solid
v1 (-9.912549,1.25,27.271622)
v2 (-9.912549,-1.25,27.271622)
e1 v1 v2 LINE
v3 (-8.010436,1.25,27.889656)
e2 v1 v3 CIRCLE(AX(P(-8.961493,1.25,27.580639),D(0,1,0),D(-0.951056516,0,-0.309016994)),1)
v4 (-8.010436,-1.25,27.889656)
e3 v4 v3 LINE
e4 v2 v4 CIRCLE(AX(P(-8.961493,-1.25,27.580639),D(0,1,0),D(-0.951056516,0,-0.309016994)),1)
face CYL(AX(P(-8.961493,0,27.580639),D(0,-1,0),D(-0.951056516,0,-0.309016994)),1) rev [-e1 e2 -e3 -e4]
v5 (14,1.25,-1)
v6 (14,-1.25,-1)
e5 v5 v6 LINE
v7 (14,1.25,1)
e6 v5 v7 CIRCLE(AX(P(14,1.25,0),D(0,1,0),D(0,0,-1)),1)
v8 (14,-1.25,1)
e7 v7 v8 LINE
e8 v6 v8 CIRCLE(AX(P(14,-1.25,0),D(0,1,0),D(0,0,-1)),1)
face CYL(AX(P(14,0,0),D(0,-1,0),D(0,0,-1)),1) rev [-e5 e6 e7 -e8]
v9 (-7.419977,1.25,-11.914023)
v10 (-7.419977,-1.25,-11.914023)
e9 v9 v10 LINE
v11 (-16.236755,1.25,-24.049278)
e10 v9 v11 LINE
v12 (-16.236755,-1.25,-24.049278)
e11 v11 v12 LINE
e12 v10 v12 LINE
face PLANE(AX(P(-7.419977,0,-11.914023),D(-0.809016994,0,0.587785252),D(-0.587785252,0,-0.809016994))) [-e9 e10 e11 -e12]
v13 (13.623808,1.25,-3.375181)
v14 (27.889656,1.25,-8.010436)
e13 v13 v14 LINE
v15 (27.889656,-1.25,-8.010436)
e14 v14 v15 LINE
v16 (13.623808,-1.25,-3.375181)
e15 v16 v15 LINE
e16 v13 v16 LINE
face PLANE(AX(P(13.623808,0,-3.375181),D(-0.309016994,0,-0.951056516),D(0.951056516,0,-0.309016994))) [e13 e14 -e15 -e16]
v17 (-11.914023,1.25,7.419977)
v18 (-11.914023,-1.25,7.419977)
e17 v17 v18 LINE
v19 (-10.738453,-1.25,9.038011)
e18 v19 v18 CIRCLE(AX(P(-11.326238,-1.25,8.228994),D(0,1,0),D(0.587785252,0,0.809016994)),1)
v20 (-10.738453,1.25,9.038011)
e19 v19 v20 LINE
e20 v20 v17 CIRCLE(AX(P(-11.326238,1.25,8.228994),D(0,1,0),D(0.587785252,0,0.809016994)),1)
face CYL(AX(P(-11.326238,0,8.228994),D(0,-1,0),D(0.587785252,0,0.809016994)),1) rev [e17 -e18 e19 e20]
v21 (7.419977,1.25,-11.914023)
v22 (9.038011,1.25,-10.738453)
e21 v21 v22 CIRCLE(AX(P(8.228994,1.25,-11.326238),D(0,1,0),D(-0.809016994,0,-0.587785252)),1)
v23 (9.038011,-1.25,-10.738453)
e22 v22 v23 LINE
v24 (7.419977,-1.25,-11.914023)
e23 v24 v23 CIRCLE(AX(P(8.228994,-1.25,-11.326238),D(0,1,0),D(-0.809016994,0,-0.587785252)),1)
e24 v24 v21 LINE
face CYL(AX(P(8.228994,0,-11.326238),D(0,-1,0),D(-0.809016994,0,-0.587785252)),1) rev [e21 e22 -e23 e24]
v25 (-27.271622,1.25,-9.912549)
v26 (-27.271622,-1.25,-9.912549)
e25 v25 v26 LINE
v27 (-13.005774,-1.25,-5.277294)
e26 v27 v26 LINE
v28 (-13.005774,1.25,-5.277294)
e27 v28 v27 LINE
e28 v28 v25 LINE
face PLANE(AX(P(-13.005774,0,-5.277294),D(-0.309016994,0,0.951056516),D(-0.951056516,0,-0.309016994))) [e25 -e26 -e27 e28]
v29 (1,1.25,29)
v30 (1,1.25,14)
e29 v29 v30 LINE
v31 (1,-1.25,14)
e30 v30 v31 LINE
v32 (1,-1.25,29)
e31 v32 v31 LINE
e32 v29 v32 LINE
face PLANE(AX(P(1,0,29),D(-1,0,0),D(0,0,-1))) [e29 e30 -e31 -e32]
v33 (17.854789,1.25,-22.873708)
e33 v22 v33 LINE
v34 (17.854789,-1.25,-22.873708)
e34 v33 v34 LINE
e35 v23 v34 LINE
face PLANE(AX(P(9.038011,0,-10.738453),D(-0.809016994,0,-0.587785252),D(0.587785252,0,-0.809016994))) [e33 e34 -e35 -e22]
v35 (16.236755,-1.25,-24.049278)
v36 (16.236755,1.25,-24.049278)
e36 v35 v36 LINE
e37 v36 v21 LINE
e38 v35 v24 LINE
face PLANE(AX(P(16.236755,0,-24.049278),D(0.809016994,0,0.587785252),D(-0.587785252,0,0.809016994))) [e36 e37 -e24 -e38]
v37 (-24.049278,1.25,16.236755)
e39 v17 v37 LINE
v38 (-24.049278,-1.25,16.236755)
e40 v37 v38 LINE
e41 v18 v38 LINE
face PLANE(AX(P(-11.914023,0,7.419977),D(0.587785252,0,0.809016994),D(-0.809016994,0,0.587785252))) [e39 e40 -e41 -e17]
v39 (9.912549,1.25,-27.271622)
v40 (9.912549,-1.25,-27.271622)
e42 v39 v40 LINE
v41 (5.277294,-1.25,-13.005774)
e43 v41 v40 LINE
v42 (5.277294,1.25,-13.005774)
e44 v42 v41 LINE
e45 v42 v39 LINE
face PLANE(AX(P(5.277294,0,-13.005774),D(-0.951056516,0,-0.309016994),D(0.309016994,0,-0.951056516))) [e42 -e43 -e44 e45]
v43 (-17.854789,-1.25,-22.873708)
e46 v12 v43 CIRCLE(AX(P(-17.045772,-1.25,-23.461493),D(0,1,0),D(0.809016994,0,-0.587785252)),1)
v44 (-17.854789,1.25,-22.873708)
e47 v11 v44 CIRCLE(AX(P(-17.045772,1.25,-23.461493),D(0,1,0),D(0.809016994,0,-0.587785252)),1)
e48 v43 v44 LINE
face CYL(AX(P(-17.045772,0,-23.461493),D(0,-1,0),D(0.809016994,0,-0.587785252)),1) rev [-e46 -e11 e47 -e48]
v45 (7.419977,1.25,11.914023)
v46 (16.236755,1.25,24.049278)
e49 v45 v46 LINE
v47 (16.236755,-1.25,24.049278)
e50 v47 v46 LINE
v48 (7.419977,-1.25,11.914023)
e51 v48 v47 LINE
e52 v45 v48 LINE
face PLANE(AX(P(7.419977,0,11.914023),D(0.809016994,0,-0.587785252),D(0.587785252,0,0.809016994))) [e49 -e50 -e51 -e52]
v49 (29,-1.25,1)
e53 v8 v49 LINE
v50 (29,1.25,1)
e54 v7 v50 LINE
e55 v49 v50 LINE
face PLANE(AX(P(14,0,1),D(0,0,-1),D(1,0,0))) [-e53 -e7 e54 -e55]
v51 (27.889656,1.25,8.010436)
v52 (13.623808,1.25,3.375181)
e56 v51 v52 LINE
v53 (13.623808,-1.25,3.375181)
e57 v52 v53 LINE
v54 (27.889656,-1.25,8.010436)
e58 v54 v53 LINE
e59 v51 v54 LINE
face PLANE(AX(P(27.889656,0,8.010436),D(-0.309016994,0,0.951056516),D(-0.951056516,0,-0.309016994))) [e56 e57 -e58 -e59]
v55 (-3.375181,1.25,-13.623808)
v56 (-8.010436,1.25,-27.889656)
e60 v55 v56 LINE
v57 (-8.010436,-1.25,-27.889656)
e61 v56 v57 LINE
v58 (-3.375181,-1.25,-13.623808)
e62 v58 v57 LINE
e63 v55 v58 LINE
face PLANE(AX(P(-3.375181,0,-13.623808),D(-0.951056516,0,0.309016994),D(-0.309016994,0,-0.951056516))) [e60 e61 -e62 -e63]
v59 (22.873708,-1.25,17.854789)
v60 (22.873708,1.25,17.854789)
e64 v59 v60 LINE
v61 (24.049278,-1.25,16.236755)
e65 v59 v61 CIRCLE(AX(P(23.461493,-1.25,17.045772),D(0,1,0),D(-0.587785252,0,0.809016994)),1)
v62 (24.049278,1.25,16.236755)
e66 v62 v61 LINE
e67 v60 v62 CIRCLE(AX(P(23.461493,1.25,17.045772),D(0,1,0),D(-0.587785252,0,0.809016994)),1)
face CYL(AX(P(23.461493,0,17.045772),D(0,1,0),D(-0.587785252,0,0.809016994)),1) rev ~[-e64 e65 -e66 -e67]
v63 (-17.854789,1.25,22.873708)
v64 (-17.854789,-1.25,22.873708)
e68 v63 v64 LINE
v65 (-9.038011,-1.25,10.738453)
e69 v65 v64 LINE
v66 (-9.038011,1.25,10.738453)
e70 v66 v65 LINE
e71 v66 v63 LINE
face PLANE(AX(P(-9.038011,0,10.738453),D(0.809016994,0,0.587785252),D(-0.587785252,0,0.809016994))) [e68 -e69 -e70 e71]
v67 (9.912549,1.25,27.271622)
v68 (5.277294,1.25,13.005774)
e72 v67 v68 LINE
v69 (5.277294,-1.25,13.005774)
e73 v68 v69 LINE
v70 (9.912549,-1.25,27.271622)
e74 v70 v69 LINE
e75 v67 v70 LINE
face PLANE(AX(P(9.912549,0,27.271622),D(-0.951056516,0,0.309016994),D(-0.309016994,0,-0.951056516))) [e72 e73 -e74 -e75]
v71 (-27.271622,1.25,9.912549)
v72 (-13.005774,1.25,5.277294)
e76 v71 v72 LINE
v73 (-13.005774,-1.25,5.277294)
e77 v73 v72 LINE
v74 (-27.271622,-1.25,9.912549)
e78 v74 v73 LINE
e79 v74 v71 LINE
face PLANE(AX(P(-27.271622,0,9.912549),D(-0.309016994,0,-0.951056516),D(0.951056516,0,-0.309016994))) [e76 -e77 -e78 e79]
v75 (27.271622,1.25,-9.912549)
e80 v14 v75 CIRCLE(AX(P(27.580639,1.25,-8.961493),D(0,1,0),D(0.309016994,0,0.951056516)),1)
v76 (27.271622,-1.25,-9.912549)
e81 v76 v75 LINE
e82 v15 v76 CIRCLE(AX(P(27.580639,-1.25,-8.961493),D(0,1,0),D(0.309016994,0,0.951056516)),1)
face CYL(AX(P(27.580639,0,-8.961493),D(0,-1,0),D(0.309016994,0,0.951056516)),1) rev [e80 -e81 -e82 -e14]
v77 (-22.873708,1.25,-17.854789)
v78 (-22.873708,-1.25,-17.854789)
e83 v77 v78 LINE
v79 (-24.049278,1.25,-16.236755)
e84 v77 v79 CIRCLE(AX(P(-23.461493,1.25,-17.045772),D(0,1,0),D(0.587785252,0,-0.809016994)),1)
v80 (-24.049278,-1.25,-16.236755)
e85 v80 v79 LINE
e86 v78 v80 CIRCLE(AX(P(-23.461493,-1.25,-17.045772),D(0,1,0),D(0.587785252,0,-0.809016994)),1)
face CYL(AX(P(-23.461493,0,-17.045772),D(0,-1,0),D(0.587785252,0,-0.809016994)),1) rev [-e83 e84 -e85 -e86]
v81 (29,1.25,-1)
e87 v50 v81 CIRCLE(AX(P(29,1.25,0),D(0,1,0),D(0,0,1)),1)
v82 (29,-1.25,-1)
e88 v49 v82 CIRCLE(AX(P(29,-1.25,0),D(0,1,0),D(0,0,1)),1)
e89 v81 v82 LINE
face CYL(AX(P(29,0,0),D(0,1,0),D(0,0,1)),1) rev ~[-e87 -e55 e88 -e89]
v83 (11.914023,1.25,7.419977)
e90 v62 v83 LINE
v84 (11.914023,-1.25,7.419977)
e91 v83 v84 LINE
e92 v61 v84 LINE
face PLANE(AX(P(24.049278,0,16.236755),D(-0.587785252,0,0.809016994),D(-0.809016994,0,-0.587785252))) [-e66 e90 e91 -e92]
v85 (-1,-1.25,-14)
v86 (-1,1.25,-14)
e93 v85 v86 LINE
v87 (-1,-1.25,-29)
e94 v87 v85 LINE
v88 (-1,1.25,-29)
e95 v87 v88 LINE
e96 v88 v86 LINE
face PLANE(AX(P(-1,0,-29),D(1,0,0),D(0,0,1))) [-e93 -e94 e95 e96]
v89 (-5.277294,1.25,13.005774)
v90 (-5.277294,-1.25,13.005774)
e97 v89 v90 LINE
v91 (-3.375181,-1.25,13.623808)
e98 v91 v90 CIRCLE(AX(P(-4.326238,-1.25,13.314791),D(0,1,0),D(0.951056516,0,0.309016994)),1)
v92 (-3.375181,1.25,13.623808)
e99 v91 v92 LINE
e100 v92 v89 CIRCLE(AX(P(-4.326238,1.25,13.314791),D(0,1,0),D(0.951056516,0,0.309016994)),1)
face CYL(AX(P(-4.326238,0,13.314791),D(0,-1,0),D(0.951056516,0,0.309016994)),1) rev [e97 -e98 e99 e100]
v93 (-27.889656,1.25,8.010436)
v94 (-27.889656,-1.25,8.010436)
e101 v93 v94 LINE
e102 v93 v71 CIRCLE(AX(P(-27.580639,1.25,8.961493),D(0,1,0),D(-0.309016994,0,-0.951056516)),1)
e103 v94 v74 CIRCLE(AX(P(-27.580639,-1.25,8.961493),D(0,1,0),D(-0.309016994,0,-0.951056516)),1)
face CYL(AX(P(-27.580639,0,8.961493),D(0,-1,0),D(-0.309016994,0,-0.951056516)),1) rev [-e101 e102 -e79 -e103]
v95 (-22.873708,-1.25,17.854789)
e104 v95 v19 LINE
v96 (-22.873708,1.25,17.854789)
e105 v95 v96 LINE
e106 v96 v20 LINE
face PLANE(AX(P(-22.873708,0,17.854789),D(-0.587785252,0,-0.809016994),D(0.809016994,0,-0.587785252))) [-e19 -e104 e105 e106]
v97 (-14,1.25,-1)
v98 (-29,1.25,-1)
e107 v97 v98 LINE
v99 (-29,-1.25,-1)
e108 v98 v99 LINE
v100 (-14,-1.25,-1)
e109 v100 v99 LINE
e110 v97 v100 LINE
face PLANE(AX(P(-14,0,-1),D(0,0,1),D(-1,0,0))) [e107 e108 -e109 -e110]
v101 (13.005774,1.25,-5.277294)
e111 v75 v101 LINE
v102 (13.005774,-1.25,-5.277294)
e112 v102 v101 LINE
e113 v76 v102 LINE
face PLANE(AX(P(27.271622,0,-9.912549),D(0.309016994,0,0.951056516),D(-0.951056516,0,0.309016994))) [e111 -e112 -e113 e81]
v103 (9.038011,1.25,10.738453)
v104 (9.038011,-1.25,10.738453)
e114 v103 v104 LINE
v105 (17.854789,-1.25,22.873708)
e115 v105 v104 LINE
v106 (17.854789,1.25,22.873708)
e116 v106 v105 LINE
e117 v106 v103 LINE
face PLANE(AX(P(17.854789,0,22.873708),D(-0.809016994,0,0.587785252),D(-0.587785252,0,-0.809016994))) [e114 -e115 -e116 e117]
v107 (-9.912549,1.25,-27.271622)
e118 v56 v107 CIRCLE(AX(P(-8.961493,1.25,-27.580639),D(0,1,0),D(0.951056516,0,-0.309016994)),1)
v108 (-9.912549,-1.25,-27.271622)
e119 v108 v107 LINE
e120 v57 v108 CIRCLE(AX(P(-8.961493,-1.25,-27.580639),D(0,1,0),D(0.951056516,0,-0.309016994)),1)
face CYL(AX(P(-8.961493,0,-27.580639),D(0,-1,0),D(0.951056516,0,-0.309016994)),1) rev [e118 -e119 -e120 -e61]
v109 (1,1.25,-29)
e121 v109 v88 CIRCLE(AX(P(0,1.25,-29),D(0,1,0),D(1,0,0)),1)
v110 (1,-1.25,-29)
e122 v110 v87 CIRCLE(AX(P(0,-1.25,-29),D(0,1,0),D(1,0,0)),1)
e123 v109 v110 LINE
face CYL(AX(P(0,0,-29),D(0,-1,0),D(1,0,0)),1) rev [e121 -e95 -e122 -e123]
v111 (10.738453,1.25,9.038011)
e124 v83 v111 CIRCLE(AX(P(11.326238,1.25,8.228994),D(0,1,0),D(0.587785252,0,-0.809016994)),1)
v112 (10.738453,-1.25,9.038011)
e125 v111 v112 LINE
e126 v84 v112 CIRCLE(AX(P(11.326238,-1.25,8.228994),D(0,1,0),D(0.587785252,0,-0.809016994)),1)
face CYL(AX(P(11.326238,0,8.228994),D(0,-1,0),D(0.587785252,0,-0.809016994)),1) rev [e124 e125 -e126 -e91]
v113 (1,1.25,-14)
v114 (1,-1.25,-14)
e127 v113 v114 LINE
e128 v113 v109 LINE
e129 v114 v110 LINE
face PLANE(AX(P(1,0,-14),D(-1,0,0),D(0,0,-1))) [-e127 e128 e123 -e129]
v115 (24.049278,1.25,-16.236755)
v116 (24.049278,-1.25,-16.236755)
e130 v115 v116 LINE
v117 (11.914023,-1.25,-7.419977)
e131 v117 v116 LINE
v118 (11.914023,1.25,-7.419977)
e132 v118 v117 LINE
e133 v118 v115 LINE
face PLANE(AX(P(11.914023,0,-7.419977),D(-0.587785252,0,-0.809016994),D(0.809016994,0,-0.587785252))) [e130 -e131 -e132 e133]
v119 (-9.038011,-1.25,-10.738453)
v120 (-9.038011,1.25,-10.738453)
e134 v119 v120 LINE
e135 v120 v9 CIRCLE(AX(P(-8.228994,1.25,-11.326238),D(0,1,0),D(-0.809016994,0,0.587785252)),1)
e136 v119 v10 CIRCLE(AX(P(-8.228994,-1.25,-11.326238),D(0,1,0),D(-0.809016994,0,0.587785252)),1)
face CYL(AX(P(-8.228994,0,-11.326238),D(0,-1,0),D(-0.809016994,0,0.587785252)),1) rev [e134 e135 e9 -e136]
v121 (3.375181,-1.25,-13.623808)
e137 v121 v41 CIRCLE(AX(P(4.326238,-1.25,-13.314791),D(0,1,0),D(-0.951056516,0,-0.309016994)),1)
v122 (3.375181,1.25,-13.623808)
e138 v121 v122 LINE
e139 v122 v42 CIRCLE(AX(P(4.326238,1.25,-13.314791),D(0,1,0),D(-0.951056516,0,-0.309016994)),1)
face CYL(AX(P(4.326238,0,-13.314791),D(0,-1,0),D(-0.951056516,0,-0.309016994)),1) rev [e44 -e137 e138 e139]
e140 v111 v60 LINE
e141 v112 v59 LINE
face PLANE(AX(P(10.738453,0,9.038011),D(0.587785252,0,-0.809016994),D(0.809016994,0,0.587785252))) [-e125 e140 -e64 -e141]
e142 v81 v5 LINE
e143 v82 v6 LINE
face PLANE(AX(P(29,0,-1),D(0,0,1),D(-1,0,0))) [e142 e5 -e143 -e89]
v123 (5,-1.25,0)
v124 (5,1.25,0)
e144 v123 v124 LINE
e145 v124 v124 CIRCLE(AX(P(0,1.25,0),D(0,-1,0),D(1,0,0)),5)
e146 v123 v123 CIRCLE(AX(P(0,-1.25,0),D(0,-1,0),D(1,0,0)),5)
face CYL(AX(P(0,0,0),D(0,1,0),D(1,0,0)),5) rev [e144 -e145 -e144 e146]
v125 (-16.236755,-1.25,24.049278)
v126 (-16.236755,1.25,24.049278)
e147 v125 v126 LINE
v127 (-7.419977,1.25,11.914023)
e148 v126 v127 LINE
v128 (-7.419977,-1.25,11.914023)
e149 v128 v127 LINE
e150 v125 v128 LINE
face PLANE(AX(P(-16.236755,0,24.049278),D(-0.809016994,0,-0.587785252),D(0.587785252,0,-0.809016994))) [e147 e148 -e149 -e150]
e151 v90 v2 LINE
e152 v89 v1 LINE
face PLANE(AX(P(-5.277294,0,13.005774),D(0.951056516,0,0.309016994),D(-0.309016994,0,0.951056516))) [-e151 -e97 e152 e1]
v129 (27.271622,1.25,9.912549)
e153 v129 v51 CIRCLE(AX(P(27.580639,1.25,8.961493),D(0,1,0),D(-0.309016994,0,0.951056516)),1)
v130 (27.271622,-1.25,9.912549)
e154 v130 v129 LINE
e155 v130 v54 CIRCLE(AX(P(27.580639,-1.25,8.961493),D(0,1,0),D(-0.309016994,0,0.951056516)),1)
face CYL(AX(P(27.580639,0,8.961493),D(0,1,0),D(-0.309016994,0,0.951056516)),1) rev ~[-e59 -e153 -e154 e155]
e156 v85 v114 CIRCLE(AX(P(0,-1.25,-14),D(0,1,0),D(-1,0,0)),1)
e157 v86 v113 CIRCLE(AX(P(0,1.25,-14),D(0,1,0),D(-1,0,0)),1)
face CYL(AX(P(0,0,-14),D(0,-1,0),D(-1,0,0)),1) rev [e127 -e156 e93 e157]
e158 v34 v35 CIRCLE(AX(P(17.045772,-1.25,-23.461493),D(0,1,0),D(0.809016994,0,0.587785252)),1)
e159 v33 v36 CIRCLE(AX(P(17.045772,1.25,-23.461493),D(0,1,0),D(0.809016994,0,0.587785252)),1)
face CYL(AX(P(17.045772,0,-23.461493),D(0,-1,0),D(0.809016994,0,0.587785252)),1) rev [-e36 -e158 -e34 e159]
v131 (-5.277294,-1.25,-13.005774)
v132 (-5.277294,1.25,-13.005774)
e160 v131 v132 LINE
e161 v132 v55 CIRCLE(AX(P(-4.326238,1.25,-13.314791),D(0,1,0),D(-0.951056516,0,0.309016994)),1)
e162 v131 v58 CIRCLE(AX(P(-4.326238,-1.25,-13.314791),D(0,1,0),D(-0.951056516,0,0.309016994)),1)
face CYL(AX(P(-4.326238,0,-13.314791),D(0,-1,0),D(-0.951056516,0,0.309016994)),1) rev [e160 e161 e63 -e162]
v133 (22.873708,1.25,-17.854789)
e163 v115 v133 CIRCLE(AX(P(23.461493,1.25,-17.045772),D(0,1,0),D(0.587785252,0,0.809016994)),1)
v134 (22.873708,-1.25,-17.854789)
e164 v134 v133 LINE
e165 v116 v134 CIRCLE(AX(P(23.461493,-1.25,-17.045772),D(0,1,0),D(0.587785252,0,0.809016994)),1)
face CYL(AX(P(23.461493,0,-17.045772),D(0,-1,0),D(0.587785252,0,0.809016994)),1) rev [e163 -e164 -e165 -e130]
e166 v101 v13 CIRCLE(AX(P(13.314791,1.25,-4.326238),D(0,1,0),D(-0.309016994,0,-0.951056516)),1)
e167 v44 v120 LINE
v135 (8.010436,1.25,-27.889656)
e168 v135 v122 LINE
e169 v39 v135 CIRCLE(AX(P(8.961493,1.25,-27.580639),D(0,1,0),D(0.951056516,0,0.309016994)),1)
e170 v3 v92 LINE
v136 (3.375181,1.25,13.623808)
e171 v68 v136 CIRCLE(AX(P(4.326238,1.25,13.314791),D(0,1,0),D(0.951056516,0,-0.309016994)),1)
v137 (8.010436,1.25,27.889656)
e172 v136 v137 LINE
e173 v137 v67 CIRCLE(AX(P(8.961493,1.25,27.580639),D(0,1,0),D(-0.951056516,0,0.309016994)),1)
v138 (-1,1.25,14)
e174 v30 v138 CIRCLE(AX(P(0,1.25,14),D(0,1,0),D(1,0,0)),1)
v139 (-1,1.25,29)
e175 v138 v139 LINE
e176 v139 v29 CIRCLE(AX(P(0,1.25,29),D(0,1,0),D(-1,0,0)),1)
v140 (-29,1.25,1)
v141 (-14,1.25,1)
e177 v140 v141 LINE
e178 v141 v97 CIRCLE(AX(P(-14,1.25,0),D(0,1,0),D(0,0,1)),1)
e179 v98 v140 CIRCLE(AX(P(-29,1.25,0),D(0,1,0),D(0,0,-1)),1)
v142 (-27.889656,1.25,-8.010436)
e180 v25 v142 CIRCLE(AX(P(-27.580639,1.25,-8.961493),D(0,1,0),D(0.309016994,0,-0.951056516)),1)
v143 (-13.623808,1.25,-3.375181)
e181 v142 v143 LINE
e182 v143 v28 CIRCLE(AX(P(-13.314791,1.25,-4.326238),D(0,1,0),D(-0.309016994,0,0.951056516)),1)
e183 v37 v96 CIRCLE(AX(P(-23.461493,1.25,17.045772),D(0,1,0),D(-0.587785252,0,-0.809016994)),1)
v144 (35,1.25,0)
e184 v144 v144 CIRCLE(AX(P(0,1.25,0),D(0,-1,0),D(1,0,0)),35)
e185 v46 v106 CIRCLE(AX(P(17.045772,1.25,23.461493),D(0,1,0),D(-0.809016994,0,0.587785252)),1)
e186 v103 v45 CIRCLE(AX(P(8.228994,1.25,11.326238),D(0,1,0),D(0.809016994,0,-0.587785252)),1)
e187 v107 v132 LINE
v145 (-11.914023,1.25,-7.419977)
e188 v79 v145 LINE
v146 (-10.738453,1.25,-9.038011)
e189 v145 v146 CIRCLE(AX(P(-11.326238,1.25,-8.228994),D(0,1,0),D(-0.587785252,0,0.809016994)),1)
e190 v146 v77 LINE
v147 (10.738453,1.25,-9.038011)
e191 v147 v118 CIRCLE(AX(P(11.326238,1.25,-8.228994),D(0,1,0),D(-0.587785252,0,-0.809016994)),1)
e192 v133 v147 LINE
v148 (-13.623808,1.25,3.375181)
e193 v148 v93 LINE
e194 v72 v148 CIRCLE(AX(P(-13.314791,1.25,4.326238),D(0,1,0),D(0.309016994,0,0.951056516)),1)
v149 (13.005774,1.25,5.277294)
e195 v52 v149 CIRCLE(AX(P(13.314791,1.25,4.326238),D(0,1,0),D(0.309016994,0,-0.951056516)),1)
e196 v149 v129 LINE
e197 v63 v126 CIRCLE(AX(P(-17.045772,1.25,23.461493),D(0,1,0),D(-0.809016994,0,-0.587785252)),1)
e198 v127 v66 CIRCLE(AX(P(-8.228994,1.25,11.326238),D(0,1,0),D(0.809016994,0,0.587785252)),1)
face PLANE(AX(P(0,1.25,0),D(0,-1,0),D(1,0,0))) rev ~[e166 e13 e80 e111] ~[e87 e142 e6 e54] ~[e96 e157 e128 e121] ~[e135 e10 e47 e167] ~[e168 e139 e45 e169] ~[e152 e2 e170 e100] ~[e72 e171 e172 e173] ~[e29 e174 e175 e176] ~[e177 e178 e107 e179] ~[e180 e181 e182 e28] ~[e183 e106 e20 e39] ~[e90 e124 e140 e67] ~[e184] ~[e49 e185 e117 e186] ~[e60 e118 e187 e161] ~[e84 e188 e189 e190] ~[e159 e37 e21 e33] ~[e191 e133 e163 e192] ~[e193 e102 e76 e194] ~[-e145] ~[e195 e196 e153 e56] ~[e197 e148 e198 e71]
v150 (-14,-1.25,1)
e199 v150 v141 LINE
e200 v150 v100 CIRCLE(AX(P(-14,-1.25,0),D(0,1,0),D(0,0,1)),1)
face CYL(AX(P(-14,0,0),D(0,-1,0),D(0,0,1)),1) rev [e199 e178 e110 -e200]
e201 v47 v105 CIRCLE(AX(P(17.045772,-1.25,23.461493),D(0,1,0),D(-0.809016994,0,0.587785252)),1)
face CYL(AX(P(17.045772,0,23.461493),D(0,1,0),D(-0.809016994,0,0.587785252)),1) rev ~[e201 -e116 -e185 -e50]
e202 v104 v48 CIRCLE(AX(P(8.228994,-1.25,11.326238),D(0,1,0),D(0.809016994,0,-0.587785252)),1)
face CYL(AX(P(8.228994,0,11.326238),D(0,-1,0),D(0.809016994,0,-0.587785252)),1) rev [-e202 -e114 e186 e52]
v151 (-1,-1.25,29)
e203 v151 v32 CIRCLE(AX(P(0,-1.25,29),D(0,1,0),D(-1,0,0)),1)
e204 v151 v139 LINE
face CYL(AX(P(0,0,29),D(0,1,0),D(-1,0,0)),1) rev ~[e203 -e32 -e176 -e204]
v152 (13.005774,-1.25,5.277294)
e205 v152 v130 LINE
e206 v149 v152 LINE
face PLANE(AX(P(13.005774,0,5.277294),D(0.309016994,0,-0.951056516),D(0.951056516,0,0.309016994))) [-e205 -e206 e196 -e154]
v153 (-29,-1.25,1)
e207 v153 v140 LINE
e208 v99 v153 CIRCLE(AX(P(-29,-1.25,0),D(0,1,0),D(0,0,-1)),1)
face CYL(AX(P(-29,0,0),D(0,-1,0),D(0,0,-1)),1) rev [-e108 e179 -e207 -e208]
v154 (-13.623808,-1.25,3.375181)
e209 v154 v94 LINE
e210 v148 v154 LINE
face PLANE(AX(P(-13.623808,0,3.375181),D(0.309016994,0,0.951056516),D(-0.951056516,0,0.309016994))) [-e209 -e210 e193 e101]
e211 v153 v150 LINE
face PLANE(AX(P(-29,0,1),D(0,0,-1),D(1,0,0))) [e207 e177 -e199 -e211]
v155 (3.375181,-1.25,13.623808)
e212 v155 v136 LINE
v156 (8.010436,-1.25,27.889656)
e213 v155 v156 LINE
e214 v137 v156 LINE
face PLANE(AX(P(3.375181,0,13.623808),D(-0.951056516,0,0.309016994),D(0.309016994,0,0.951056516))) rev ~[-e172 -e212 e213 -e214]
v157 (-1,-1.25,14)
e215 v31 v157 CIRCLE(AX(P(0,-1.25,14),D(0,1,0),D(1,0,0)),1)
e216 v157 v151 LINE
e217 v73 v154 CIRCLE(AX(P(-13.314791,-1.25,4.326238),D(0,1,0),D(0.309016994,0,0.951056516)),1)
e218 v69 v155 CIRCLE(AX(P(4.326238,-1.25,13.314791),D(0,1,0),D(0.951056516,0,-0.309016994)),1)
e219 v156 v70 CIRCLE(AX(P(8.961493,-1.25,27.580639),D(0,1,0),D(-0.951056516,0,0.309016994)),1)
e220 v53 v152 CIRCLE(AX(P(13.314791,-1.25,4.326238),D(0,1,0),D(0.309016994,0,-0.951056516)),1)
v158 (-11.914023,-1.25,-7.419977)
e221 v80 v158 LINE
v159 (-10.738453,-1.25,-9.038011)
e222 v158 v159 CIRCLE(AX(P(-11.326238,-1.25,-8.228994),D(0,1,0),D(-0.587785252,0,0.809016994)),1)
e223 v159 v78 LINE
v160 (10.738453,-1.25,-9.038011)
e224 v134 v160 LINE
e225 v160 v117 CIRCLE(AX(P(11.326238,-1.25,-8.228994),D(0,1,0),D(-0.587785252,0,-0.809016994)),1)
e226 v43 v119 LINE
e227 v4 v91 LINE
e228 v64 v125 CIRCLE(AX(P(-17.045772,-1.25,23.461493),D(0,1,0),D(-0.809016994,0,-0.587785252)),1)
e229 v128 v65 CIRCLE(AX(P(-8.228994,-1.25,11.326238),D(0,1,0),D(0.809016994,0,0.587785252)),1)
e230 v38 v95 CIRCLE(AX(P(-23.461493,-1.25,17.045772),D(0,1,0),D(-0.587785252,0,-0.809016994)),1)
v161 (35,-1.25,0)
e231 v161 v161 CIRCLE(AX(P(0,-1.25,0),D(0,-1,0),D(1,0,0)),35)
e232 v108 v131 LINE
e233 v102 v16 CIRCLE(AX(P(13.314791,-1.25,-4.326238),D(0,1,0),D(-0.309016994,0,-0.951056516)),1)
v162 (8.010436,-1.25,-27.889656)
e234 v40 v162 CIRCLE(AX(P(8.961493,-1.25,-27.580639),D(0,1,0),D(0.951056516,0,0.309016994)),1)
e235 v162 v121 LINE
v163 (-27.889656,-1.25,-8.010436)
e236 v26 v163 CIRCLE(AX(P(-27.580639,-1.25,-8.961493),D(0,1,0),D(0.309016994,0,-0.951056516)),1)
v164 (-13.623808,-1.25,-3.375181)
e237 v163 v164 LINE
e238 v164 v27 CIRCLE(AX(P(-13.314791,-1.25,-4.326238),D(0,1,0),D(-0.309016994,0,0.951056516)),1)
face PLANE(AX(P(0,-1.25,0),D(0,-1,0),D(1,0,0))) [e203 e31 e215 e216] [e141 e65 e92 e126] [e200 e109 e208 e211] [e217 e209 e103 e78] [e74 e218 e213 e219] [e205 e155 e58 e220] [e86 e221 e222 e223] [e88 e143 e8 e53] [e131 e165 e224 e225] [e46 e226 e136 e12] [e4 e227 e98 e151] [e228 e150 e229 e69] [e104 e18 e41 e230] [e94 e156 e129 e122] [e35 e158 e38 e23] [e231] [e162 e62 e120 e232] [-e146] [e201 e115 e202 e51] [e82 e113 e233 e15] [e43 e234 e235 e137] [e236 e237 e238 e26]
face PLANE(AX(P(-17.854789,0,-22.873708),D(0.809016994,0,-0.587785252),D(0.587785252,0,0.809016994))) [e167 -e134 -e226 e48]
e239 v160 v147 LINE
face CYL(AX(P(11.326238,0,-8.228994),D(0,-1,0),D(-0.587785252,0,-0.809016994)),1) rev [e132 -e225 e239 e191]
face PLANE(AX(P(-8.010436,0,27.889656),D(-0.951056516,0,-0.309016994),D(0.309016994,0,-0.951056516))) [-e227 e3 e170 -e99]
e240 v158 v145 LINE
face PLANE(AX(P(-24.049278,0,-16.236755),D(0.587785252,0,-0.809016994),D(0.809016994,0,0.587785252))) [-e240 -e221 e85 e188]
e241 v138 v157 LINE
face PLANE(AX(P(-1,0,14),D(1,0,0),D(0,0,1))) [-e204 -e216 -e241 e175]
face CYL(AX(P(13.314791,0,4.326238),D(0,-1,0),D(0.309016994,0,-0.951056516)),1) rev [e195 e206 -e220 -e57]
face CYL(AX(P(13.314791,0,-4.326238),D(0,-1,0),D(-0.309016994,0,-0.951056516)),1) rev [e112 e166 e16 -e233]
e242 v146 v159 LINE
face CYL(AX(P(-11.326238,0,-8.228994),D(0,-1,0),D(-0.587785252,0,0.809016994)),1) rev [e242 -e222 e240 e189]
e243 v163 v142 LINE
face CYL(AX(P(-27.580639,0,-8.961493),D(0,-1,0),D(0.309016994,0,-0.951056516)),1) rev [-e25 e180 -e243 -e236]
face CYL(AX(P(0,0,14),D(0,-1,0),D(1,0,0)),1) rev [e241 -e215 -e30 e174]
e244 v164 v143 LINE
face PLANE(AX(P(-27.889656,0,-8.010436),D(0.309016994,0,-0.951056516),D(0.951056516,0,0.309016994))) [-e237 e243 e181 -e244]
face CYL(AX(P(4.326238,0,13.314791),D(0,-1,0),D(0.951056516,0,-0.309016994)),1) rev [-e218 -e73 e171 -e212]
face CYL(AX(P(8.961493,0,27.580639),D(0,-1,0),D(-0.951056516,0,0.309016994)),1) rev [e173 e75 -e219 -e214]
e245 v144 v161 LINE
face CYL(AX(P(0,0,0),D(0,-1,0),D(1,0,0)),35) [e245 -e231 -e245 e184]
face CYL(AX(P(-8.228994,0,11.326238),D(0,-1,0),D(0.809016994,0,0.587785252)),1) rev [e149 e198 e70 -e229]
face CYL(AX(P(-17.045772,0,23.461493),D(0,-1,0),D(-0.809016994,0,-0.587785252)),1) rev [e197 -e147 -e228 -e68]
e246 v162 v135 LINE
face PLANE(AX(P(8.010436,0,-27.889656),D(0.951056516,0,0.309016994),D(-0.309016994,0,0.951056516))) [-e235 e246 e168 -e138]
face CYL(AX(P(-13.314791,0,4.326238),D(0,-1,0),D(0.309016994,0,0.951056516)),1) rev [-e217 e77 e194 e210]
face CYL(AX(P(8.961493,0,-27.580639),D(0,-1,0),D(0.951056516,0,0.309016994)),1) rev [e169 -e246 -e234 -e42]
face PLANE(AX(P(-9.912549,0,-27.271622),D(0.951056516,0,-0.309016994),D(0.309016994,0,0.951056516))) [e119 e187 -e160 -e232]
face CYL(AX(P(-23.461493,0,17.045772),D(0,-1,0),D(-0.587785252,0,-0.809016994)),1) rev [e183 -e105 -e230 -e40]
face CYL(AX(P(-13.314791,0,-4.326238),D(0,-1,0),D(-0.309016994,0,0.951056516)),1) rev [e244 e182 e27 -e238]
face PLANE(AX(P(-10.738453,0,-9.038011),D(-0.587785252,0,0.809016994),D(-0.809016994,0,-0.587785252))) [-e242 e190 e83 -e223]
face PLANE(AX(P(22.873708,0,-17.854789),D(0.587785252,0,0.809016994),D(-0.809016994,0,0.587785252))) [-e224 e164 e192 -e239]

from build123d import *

# Parameters (mm, degrees)
F0_R     = 35
F0_R_2   = 5
F1_DEPTH = 1.25


with BuildPart() as f1:
    # F0 (on Front) → F1 (new body, symmetric)
    with BuildSketch(Plane.XZ):
        Circle(F0_R)
        with BuildLine():
            Line((-3.375181405, -13.6238082225), (-8.0104363206, -27.8896559669))
            ThreePointArc((-8.0104363206, -27.8896559669), (-9.2705098312, -28.5316954889), (-9.9125493532, -27.2716219782))
            Line((-9.9125493532, -27.2716219782), (-5.2772944375, -13.0057742338))
            ThreePointArc((-5.2772944375, -13.0057742338), (-4.0172209269, -12.3637347118), (-3.375181405, -13.6238082225))
        make_face(mode=Mode.SUBTRACT)
        with BuildLine():
            Line((-13.0057742338, -5.2772944375), (-27.2716219782, -9.9125493532))
            ThreePointArc((-27.2716219782, -9.9125493532), (-28.5316954889, -9.2705098312), (-27.8896559669, -8.0104363206))
            Line((-27.8896559669, -8.0104363206), (-13.6238082225, -3.375181405))
            ThreePointArc((-13.6238082225, -3.375181405), (-12.3637347118, -4.0172209269), (-13.0057742338, -5.2772944375))
        make_face(mode=Mode.SUBTRACT)
        with BuildLine():
            Line((-7.4199765377, -11.9140231735), (-16.2367553221, -24.0492780892))
            ThreePointArc((-16.2367553221, -24.0492780892), (-17.6335575688, -24.2705098312), (-17.8547893109, -22.8737075846))
            Line((-17.8547893109, -22.8737075846), (-9.0380105265, -10.738452669))
            ThreePointArc((-9.0380105265, -10.738452669), (-7.6412082798, -10.5172209269), (-7.4199765377, -11.9140231735))
        make_face(mode=Mode.SUBTRACT)
        with BuildLine():
            Line((-10.738452669, -9.0380105265), (-22.8737075846, -17.8547893109))
            ThreePointArc((-22.8737075846, -17.8547893109), (-24.2705098312, -17.6335575688), (-24.0492780892, -16.2367553221))
            Line((-24.0492780892, -16.2367553221), (-11.9140231735, -7.4199765377))
            ThreePointArc((-11.9140231735, -7.4199765377), (-10.5172209269, -7.6412082798), (-10.738452669, -9.0380105265))
        make_face(mode=Mode.SUBTRACT)
        with BuildLine():
            Line((1, -14), (1, -29))
            ThreePointArc((1, -29), (0, -30), (-1, -29))
            Line((-1, -29), (-1, -14))
            ThreePointArc((-1, -14), (0, -13), (1, -14))
        make_face(mode=Mode.SUBTRACT)
        with BuildLine():
            Line((5.2772944375, -13.0057742338), (9.9125493532, -27.2716219782))
            ThreePointArc((9.9125493532, -27.2716219782), (9.2705098312, -28.5316954889), (8.0104363206, -27.8896559669))
            Line((8.0104363206, -27.8896559669), (3.375181405, -13.6238082225))
            ThreePointArc((3.375181405, -13.6238082225), (4.0172209269, -12.3637347118), (5.2772944375, -13.0057742338))
        make_face(mode=Mode.SUBTRACT)
        with BuildLine():
            Line((9.0380105265, -10.738452669), (17.8547893109, -22.8737075846))
            ThreePointArc((17.8547893109, -22.8737075846), (17.6335575688, -24.2705098312), (16.2367553221, -24.0492780892))
            Line((16.2367553221, -24.0492780892), (7.4199765377, -11.9140231735))
            ThreePointArc((7.4199765377, -11.9140231735), (7.6412082798, -10.5172209269), (9.0380105265, -10.738452669))
        make_face(mode=Mode.SUBTRACT)
        with BuildLine():
            Line((11.9140231735, -7.4199765377), (24.0492780892, -16.2367553221))
            ThreePointArc((24.0492780892, -16.2367553221), (24.2705098312, -17.6335575688), (22.8737075846, -17.8547893109))
            Line((22.8737075846, -17.8547893109), (10.738452669, -9.0380105265))
            ThreePointArc((10.738452669, -9.0380105265), (10.5172209269, -7.6412082798), (11.9140231735, -7.4199765377))
        make_face(mode=Mode.SUBTRACT)
        with BuildLine():
            Line((13.6238082225, -3.375181405), (27.8896559669, -8.0104363206))
            ThreePointArc((27.8896559669, -8.0104363206), (28.5316954889, -9.2705098312), (27.2716219782, -9.9125493532))
            Line((27.2716219782, -9.9125493532), (13.0057742338, -5.2772944375))
            ThreePointArc((13.0057742338, -5.2772944375), (12.3637347118, -4.0172209269), (13.6238082225, -3.375181405))
        make_face(mode=Mode.SUBTRACT)
        with BuildLine():
            Line((-14, -1), (-29, -1))
            ThreePointArc((-29, -1), (-30, 0), (-29, 1))
            Line((-29, 1), (-14, 1))
            ThreePointArc((-14, 1), (-13, 0), (-14, -1))
        make_face(mode=Mode.SUBTRACT)
        with BuildLine():
            Line((-13.6238082225, 3.375181405), (-27.8896559669, 8.0104363206))
            ThreePointArc((-27.8896559669, 8.0104363206), (-28.5316954889, 9.2705098312), (-27.2716219782, 9.9125493532))
            Line((-27.2716219782, 9.9125493532), (-13.0057742338, 5.2772944375))
            ThreePointArc((-13.0057742338, 5.2772944375), (-12.3637347118, 4.0172209269), (-13.6238082225, 3.375181405))
        make_face(mode=Mode.SUBTRACT)
        with BuildLine():
            Line((-11.9140231735, 7.4199765377), (-24.0492780892, 16.2367553221))
            ThreePointArc((-24.0492780892, 16.2367553221), (-24.2705098312, 17.6335575688), (-22.8737075846, 17.8547893109))
            Line((-22.8737075846, 17.8547893109), (-10.738452669, 9.0380105265))
            ThreePointArc((-10.738452669, 9.0380105265), (-10.5172209269, 7.6412082798), (-11.9140231735, 7.4199765377))
        make_face(mode=Mode.SUBTRACT)
        with BuildLine():
            Line((-9.0380105265, 10.738452669), (-17.8547893109, 22.8737075846))
            ThreePointArc((-17.8547893109, 22.8737075846), (-17.6335575688, 24.2705098312), (-16.2367553221, 24.0492780892))
            Line((-16.2367553221, 24.0492780892), (-7.4199765377, 11.9140231735))
            ThreePointArc((-7.4199765377, 11.9140231735), (-7.6412082798, 10.5172209269), (-9.0380105265, 10.738452669))
        make_face(mode=Mode.SUBTRACT)
        with BuildLine():
            Line((-5.2772944375, 13.0057742338), (-9.9125493532, 27.2716219782))
            ThreePointArc((-9.9125493532, 27.2716219782), (-9.2705098312, 28.5316954889), (-8.0104363206, 27.8896559669))
            Line((-8.0104363206, 27.8896559669), (-3.375181405, 13.6238082225))
            ThreePointArc((-3.375181405, 13.6238082225), (-4.0172209269, 12.3637347118), (-5.2772944375, 13.0057742338))
        make_face(mode=Mode.SUBTRACT)
        Circle(F0_R_2, mode=Mode.SUBTRACT)
        with BuildLine():
            Line((10.738452669, 9.0380105265), (22.8737075846, 17.8547893109))
            ThreePointArc((22.8737075846, 17.8547893109), (24.2705098312, 17.6335575688), (24.0492780892, 16.2367553221))
            Line((24.0492780892, 16.2367553221), (11.9140231735, 7.4199765377))
            ThreePointArc((11.9140231735, 7.4199765377), (10.5172209269, 7.6412082798), (10.738452669, 9.0380105265))
        make_face(mode=Mode.SUBTRACT)
        with BuildLine():
            Line((7.4199765377, 11.9140231735), (16.2367553221, 24.0492780892))
            ThreePointArc((16.2367553221, 24.0492780892), (17.6335575688, 24.2705098312), (17.8547893109, 22.8737075846))
            Line((17.8547893109, 22.8737075846), (9.0380105265, 10.738452669))
            ThreePointArc((9.0380105265, 10.738452669), (7.6412082798, 10.5172209269), (7.4199765377, 11.9140231735))
        make_face(mode=Mode.SUBTRACT)
        with BuildLine():
            Line((14, 1), (29, 1))
            ThreePointArc((29, 1), (30, 0), (29, -1))
            Line((29, -1), (14, -1))
            ThreePointArc((14, -1), (13, 0), (14, 1))
        make_face(mode=Mode.SUBTRACT)
        with BuildLine():
            Line((13.0057742338, 5.2772944375), (27.2716219782, 9.9125493532))
            ThreePointArc((27.2716219782, 9.9125493532), (28.5316954889, 9.2705098312), (27.8896559669, 8.0104363206))
            Line((27.8896559669, 8.0104363206), (13.6238082225, 3.375181405))
            ThreePointArc((13.6238082225, 3.375181405), (12.3637347118, 4.0172209269), (13.0057742338, 5.2772944375))
        make_face(mode=Mode.SUBTRACT)
        with BuildLine():
            Line((-1, 14), (-1, 29))
            ThreePointArc((-1, 29), (0, 30), (1, 29))
            Line((1, 29), (1, 14))
            ThreePointArc((1, 14), (0, 13), (-1, 14))
        make_face(mode=Mode.SUBTRACT)
        with BuildLine():
            Line((3.375181405, 13.6238082225), (8.0104363206, 27.8896559669))
            ThreePointArc((8.0104363206, 27.8896559669), (9.2705098312, 28.5316954889), (9.9125493532, 27.2716219782))
            Line((9.9125493532, 27.2716219782), (5.2772944375, 13.0057742338))
            ThreePointArc((5.2772944375, 13.0057742338), (4.0172209269, 12.3637347118), (3.375181405, 13.6238082225))
        make_face(mode=Mode.SUBTRACT)
    extrude(amount=F1_DEPTH, both=True)


solid = f1.part
